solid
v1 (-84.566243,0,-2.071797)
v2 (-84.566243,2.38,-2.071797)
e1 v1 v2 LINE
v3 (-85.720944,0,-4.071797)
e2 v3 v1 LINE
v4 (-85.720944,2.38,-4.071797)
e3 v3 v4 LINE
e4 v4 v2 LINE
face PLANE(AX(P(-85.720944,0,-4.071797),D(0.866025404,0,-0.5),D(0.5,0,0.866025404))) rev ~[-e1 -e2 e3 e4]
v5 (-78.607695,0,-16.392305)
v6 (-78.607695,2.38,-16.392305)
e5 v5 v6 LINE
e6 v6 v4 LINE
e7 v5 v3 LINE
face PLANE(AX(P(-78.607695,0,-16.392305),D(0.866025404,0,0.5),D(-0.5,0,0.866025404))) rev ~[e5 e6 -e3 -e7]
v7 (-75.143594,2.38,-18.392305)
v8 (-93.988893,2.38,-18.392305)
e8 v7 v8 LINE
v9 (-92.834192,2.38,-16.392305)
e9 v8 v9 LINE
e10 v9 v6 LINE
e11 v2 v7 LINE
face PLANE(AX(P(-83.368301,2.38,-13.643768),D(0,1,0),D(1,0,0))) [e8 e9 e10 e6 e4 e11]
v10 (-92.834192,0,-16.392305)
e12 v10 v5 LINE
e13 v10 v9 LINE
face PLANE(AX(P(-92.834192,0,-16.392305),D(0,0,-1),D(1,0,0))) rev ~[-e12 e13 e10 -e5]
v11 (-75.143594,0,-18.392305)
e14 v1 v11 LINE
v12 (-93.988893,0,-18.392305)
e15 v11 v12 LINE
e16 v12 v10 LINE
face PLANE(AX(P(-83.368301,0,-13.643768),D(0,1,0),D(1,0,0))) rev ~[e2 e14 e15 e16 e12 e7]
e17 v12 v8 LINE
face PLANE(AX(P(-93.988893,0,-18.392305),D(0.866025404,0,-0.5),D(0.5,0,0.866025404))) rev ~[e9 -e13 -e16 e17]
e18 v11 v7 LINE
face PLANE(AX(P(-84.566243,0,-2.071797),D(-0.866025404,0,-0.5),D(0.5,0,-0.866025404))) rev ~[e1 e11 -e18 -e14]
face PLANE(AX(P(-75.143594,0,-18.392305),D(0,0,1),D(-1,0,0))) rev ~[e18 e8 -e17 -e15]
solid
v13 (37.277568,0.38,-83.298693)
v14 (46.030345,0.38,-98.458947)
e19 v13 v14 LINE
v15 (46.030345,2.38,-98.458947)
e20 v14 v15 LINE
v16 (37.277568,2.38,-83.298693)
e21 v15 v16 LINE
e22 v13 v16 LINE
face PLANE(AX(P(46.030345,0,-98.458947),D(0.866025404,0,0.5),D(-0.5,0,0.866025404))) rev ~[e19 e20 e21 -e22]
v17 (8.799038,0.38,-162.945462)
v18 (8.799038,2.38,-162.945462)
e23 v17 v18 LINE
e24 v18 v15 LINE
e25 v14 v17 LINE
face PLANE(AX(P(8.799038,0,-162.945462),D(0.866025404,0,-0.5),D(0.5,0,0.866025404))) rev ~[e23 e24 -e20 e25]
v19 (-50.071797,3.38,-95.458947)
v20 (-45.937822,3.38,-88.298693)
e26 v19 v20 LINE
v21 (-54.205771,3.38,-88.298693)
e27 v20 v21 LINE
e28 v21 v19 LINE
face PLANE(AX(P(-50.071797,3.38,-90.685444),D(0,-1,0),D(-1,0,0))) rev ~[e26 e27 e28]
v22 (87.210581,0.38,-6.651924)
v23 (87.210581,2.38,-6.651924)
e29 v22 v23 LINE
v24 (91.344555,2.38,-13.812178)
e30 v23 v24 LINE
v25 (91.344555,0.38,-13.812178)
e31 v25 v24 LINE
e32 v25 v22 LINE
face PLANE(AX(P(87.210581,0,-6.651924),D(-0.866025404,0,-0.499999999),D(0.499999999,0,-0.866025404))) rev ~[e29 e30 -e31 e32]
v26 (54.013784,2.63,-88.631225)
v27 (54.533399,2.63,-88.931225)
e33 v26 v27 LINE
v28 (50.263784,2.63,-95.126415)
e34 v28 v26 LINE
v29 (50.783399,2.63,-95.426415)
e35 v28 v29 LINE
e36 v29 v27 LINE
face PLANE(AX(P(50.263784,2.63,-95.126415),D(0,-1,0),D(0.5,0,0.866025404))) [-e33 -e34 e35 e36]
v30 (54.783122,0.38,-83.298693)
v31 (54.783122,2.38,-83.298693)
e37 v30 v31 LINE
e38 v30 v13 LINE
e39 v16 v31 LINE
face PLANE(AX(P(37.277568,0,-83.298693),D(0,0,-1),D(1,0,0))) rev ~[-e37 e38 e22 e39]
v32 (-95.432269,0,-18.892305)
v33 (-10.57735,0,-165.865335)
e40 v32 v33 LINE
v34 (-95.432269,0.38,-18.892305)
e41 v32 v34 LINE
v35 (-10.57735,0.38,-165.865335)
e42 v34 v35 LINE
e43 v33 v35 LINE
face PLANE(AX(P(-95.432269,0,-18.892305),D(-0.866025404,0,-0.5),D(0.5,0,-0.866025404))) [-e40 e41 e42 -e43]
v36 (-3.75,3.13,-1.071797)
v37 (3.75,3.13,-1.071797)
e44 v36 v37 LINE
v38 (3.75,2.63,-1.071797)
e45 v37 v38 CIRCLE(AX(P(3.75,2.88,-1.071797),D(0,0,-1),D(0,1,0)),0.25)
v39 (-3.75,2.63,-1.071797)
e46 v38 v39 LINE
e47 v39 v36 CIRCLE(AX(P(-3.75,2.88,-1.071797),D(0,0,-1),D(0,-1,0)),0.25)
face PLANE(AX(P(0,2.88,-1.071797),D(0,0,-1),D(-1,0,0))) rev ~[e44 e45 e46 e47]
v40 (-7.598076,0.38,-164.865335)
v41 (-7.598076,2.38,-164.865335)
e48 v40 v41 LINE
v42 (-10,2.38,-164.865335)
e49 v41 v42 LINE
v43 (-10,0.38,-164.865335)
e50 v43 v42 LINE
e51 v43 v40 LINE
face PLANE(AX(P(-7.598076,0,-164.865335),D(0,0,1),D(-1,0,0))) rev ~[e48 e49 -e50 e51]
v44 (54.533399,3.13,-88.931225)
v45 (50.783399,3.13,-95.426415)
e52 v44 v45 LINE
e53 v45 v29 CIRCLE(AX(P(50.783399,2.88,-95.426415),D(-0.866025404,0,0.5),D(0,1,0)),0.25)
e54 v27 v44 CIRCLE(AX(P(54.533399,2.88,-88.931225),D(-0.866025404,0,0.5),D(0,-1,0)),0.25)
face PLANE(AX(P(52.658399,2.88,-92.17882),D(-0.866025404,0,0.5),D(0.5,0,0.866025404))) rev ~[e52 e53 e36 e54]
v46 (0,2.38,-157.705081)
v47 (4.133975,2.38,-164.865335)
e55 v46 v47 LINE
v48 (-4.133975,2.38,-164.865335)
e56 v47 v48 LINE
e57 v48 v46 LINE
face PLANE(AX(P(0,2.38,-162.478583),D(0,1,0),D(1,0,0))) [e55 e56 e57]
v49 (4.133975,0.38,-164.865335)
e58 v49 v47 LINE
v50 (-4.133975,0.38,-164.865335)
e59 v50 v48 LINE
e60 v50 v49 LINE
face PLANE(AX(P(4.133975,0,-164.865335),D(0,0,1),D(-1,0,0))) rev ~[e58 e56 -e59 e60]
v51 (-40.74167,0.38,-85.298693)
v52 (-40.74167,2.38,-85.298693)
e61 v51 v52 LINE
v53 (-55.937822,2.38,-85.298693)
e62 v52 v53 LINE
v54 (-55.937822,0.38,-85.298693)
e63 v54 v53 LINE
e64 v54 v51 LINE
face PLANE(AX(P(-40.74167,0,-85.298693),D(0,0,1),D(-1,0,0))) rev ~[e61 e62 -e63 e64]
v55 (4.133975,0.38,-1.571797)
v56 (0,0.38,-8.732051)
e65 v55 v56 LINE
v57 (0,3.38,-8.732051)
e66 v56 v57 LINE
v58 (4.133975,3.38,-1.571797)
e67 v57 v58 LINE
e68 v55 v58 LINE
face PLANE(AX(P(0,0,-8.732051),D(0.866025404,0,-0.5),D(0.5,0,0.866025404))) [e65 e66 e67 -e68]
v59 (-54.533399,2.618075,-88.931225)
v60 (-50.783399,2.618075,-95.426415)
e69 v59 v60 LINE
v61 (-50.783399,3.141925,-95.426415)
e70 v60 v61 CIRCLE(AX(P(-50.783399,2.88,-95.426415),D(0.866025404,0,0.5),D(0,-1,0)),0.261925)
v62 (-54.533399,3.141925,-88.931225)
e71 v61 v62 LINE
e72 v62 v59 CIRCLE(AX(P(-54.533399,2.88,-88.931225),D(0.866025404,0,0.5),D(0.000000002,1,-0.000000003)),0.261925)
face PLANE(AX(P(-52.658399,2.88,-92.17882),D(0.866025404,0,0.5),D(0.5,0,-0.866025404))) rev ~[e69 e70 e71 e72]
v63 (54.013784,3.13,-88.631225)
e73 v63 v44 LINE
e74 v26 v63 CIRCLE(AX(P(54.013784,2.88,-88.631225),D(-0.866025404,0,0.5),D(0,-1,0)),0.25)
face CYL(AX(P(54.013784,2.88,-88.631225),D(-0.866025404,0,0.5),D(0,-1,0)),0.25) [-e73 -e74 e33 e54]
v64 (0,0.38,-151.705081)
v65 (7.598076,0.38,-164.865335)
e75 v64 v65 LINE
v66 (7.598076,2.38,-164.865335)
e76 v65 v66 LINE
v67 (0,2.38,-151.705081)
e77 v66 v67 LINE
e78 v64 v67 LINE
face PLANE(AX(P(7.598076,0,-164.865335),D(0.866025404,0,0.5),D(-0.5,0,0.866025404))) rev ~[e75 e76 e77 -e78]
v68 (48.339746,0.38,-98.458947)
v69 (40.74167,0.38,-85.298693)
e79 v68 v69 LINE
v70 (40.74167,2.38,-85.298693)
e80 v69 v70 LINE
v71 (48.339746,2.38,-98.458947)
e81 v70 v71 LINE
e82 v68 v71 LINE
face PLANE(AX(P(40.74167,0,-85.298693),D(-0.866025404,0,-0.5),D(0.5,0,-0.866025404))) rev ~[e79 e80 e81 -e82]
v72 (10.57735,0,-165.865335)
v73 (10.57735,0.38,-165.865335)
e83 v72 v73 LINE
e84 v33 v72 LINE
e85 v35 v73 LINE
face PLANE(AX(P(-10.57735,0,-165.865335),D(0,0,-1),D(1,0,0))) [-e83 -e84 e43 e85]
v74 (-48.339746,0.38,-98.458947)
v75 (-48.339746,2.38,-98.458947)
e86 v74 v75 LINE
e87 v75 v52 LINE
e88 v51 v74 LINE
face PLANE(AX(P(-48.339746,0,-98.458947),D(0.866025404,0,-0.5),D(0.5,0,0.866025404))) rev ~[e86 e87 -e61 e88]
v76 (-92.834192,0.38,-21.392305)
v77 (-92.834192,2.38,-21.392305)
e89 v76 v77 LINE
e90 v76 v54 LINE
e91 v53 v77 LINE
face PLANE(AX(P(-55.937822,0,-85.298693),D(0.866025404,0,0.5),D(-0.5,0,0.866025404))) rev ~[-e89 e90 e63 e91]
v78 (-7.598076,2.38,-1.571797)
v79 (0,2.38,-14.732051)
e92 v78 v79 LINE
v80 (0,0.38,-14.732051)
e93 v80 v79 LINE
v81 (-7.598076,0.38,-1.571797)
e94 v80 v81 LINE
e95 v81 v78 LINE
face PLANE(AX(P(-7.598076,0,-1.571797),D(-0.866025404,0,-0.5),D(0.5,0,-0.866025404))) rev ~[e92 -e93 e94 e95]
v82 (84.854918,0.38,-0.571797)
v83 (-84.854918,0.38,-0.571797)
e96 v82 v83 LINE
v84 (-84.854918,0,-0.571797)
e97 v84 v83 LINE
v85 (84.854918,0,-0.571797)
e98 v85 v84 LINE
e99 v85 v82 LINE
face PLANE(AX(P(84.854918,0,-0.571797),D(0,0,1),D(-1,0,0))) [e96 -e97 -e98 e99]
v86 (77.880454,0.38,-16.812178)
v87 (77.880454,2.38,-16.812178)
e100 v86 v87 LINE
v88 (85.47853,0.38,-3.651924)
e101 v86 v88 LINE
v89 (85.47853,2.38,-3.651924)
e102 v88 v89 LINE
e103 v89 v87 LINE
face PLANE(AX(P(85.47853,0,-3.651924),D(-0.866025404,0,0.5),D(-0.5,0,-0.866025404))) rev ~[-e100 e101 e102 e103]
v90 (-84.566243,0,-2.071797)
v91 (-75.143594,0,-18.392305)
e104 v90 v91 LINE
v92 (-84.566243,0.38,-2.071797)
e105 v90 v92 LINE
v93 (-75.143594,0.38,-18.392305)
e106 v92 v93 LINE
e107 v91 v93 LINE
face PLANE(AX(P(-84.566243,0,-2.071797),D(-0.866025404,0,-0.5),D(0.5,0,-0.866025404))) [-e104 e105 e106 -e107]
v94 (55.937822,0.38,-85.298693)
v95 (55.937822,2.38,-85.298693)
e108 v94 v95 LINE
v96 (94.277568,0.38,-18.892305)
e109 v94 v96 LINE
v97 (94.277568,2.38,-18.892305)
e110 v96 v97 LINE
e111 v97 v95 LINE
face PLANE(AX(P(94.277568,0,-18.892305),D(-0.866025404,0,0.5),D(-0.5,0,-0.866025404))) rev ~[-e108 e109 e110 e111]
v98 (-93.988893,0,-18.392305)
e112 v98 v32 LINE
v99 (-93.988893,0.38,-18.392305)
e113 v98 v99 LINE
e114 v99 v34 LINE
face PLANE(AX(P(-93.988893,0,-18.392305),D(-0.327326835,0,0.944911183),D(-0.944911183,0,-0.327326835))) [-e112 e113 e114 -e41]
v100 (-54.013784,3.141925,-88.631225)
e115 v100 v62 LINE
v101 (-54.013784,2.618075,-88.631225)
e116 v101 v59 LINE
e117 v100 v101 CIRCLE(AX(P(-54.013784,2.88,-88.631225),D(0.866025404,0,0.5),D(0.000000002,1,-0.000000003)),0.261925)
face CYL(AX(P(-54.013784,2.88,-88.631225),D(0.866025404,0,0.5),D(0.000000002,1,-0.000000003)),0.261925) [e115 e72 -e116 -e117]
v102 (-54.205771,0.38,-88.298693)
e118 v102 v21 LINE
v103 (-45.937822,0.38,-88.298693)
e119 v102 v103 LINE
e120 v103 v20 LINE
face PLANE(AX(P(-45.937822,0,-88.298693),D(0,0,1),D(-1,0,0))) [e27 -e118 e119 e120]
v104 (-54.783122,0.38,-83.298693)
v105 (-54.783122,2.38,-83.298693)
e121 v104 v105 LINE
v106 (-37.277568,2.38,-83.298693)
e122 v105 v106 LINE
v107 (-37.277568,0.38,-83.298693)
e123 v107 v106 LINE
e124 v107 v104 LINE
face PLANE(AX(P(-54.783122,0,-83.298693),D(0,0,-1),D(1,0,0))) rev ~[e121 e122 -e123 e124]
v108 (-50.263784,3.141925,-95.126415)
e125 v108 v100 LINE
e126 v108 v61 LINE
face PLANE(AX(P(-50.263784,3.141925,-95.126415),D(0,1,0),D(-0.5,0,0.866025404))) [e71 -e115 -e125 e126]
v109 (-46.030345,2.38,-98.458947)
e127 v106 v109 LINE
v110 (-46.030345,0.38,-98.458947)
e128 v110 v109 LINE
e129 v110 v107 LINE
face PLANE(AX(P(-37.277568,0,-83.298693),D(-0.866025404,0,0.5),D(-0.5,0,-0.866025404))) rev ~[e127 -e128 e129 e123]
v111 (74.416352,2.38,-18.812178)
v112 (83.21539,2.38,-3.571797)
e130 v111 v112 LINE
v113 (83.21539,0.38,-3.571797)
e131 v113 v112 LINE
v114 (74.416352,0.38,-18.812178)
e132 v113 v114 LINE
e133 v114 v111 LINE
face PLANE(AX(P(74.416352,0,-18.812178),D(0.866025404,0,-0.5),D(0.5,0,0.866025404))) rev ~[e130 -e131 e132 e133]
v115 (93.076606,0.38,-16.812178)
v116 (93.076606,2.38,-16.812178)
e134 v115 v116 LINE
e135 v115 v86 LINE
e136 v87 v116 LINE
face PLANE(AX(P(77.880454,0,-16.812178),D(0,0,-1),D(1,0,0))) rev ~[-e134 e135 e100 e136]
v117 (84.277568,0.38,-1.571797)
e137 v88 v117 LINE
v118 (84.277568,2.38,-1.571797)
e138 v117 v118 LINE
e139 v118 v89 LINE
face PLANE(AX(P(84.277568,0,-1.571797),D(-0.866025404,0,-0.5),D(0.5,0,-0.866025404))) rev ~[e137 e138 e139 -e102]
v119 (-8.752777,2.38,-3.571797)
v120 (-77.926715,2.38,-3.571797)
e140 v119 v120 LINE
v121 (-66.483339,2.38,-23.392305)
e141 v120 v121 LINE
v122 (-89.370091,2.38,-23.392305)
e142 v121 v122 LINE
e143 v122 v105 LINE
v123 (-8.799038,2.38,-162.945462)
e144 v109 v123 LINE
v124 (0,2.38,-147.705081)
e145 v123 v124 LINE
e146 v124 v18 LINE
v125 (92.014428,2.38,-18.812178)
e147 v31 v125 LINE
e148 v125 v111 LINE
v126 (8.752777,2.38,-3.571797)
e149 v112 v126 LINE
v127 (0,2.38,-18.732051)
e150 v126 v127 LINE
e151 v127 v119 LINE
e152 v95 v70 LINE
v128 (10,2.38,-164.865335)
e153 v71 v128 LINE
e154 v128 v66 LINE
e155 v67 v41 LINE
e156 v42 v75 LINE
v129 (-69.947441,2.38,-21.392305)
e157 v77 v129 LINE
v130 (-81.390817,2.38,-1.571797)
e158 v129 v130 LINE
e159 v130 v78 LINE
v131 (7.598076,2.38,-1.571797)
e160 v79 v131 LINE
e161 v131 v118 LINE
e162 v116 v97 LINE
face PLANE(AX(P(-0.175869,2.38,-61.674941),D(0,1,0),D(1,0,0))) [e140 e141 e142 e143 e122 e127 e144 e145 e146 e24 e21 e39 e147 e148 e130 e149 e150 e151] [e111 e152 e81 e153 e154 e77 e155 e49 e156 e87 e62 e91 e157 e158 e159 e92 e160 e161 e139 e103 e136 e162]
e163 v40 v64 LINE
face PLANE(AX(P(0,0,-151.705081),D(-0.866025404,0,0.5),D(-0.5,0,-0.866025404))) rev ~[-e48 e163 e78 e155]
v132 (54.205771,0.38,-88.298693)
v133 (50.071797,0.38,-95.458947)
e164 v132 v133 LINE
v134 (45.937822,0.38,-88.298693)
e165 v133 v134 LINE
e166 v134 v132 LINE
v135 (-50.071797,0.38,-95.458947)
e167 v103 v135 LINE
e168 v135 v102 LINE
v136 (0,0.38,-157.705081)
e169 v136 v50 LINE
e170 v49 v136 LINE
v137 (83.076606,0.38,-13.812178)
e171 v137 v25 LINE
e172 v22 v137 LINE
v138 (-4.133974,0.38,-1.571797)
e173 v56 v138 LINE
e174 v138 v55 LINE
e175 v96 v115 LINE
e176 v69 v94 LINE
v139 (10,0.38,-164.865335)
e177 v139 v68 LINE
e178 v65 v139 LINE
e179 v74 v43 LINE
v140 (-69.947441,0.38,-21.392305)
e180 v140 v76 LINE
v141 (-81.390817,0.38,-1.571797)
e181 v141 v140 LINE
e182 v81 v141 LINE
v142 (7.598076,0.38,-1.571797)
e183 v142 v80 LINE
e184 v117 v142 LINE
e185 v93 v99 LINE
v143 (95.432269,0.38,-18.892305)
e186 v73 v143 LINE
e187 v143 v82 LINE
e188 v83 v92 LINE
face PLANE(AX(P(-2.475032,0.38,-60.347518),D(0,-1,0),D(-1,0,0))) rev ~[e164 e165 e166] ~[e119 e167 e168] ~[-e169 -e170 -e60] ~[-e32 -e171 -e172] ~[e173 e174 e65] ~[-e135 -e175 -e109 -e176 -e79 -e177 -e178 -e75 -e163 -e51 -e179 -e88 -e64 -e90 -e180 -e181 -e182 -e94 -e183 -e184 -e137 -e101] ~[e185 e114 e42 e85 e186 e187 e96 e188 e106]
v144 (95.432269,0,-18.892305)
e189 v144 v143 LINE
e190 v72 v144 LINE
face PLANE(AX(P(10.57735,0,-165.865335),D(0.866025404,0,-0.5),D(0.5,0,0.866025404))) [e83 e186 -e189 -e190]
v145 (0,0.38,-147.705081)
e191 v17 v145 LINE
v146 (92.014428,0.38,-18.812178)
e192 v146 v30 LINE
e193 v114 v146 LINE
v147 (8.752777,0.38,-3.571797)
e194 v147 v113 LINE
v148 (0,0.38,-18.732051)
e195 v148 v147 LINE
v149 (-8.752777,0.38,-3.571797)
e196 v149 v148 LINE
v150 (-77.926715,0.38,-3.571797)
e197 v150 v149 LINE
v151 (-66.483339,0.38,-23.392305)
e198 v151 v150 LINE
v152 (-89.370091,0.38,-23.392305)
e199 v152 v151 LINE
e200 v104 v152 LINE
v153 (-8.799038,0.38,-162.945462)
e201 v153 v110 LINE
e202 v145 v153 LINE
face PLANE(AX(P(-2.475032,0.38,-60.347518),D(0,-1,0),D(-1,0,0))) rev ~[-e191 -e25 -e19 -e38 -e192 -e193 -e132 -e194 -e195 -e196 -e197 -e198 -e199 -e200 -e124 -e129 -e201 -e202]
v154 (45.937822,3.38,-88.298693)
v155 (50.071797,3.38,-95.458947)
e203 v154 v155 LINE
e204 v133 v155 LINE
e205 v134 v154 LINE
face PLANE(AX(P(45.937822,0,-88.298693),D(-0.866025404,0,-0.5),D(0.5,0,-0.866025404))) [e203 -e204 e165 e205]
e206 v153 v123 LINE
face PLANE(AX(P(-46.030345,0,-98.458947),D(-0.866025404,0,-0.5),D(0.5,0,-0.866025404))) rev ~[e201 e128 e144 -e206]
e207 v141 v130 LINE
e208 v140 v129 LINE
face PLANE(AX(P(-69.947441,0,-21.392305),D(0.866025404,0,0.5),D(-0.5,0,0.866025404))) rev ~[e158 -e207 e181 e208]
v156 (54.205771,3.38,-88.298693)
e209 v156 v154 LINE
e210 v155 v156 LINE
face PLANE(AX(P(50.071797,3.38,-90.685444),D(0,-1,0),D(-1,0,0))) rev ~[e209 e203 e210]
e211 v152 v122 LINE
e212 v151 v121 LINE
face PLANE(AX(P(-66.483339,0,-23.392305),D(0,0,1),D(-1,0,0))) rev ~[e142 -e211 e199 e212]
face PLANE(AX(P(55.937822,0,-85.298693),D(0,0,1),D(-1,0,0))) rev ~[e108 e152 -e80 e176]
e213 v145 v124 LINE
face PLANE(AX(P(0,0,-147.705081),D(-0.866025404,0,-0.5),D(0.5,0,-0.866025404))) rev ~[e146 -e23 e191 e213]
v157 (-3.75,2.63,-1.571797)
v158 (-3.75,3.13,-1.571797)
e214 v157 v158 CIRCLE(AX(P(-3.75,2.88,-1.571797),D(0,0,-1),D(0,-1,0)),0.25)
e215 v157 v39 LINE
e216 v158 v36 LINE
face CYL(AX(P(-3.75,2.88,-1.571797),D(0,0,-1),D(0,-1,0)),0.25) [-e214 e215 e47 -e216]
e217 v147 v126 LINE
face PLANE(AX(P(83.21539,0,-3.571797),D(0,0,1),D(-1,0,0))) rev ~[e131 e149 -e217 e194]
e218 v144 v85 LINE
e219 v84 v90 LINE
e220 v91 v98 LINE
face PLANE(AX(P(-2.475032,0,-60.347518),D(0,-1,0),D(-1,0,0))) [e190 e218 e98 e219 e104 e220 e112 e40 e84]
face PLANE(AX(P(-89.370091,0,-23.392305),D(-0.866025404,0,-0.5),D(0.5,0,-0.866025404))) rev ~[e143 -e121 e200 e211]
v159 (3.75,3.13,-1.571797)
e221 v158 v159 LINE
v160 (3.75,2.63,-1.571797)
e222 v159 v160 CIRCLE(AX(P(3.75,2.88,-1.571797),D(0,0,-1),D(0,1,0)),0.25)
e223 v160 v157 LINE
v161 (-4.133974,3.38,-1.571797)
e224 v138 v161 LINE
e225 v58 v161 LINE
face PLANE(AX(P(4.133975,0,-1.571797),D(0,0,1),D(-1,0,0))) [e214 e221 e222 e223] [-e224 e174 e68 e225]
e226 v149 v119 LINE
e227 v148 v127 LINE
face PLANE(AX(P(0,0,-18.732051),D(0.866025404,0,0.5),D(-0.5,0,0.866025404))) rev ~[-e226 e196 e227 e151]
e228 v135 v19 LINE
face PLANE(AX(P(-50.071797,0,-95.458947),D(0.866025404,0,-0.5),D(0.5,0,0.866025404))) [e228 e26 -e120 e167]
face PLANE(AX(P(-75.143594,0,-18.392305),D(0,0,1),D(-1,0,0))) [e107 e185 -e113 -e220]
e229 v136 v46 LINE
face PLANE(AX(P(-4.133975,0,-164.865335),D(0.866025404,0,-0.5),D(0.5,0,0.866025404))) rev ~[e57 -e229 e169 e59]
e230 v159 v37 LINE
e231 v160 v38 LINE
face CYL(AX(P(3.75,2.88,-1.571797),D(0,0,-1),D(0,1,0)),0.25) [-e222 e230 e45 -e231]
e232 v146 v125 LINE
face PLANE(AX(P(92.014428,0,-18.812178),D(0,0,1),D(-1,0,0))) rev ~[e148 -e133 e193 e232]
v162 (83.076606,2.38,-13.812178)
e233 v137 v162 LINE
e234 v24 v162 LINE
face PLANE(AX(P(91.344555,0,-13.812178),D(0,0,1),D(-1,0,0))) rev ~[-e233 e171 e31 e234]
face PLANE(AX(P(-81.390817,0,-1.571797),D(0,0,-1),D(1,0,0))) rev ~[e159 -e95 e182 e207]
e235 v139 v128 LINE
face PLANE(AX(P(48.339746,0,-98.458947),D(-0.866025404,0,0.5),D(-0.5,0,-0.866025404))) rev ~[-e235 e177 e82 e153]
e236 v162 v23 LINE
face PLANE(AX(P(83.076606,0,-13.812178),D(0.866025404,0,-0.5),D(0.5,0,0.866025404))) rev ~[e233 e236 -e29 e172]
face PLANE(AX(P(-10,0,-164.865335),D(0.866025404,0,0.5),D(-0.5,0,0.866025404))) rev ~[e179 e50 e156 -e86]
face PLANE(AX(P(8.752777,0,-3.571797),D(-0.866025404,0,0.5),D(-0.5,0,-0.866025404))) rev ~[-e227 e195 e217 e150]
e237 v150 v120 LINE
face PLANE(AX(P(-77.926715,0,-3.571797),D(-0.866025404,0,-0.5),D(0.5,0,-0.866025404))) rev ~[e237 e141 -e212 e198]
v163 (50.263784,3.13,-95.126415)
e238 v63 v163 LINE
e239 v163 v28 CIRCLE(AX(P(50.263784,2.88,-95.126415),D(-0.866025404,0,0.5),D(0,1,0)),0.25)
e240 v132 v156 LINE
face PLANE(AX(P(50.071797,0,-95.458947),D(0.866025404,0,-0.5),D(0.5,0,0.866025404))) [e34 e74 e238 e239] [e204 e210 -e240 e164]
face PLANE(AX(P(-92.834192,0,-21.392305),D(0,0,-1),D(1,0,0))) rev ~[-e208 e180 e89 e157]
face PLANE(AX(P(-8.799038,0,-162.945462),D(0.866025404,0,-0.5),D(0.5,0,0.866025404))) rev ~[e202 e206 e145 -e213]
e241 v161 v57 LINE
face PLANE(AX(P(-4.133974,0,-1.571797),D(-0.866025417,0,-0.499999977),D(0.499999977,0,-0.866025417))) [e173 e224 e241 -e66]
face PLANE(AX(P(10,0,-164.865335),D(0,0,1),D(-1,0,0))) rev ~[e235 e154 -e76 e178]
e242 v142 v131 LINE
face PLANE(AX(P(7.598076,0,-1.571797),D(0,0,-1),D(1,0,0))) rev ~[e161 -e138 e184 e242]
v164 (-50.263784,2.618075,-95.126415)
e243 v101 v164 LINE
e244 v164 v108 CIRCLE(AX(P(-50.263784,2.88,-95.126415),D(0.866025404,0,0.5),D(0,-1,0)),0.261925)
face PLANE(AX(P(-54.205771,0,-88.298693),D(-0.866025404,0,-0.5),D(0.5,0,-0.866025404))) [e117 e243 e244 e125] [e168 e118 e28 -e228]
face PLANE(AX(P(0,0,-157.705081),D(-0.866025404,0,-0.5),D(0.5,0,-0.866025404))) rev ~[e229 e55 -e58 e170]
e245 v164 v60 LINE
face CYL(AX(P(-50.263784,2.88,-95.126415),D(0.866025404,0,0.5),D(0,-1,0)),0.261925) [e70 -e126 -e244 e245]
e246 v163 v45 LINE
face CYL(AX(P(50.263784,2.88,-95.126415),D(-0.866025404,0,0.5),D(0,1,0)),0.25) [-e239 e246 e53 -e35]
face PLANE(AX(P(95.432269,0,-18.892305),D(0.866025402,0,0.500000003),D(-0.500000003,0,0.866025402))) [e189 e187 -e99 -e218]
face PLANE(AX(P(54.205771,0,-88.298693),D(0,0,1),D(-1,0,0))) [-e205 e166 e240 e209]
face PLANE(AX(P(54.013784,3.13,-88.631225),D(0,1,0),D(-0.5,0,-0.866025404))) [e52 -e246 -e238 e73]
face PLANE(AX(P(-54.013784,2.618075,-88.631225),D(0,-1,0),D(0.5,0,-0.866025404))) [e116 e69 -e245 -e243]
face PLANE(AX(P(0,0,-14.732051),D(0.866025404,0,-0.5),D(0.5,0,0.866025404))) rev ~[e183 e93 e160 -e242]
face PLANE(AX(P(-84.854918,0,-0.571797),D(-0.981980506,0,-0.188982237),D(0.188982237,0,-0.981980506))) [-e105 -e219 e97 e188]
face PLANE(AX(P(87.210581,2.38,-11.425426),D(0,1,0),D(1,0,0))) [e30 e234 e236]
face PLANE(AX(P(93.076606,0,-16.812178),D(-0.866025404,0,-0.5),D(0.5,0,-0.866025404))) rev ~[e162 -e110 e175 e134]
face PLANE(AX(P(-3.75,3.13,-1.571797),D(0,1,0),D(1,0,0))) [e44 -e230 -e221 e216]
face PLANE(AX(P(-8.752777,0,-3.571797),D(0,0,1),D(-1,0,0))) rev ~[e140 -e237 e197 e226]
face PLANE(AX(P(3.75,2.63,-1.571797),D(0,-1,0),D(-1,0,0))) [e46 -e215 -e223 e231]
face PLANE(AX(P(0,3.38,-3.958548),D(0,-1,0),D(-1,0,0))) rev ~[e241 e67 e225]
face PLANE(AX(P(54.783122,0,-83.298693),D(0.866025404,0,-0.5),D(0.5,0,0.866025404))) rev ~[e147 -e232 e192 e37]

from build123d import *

# Parameters (mm, degrees)
BOSS_EXTRUDE1_DEPTH   = 2.38
BOSS_EXTRUDE1_2_DEPTH = 2.38
BOSS_EXTRUDE1_3_DEPTH = 2.38
BOSS_EXTRUDE1_4_DEPTH = 2.38
BOSS_EXTRUDE4_DEPTH   = 0.38
BOSS_EXTRUDE5_DEPTH   = 3.38
BOSS_EXTRUDE6_DEPTH   = 0.5
BOSS_EXTRUDE7_DEPTH   = 0.6
BOSS_EXTRUDE8_DEPTH   = 0.6


with BuildPart() as part:
    # Sketch1 → Boss-Extrude1 (new body)
    with BuildSketch(Plane(origin=(0, 0, 0), x_dir=(1, 0, 0), z_dir=(0, 1, 0))):
        Polygon((-85.720943795, 4.071796796), (-84.566243256, 2.071796795), (-75.143593538, 18.392304849), (-93.988892974, 18.392304849), (-92.834192436, 16.392304849), (-78.607695153, 16.392304849), align=None)
    extrude(amount=BOSS_EXTRUDE1_DEPTH)


with BuildPart() as body_2:
    # Sketch1 → Boss-Extrude1 2 (new body)
    with BuildSketch(Plane(origin=(0, 0, 0), x_dir=(1, 0, 0), z_dir=(0, 1, 0))):
        Polygon((91.344555444, 13.812177834), (83.076606252, 13.812177834), (87.210580853, 6.651923788), align=None)
    extrude(amount=BOSS_EXTRUDE1_2_DEPTH)


with BuildPart() as body_3:
    # Sketch1 → Boss-Extrude1 3 (new body)
    with BuildSketch(Plane(origin=(0, 0, 0), x_dir=(1, 0, 0), z_dir=(0, 1, 0))):
        Polygon((4.133974596, 164.865334799), (-4.133974596, 164.865334799), (0, 157.705080761), align=None)
    extrude(amount=BOSS_EXTRUDE1_3_DEPTH)


with BuildPart() as body_4:
    # Sketch1 → Boss-Extrude1 4 (new body)
    with BuildSketch(Plane(origin=(0, 0, 0), x_dir=(1, 0, 0), z_dir=(0, 1, 0))):
        Polygon((-92.834192436, 21.392304849), (-69.947441134, 21.392304849), (-81.390816785, 1.571796811), (-7.598076227, 1.571796811), (5.6e-08, 14.732050972), (7.598076338, 1.571796812), (84.27756817, 1.571796812), (85.478530104, 3.651923899), (77.880453952, 16.812177834), (93.076606256, 16.812177834), (94.277568143, 18.892304841), (55.937822181, 85.298692796), (40.741669759, 85.298692796), (48.33974597, 98.458946834), (10.000000007, 164.865334792), (7.598076211, 164.865334792), (0, 151.705080754), (-7.598076212, 164.865334792), (-9.999999977, 164.865334792), (-48.339745938, 98.458946839), (-40.741669726, 85.298692801), (-55.937822149, 85.298692801), align=None)
        Polygon((-8.752776823, 3.571796679), (-77.926715228, 3.571796679), (-66.4833395, 23.392304849), (-89.370090821, 23.392304849), (-54.783121611, 83.298692801), (-37.277568111, 83.298692801), (-46.030344861, 98.458946839), (-8.799038094, 162.945461791), (0, 147.705080754), (8.799038109, 162.945461817), (46.030344894, 98.458946834), (37.277568144, 83.298692796), (54.783121643, 83.298692796), (92.014428415, 18.812177834), (74.416352337, 18.812177834), (83.2153905, 3.571796679), (8.752776819, 3.571796679), (-2e-09, 18.73205084), align=None, mode=Mode.SUBTRACT)
    extrude(amount=BOSS_EXTRUDE1_4_DEPTH)


    add(body_2.part)  # Boss-Extrude4 merges body 2

    add(body_3.part)  # Boss-Extrude4 merges body 3
    # Sketch1<8> → Boss-Extrude4 (add)
    # profile 1 of 2: a face of its own
    with BuildSketch(Plane(origin=(0, 0, 0), x_dir=(1, 0, 0), z_dir=(0, 1, 0))):
        Polygon((-75.143593538, 18.392304849), (-84.566243256, 2.071796795), (-84.854918391, 0.571796796), (84.85491843, 0.571796796), (95.432268703, 18.892304753), (10.577350242, 165.865334799), (-10.577350242, 165.865334799), (-95.432268647, 18.892304849), (-93.988892974, 18.392304849), align=None)
        Polygon((4.133974507, 1.571796687), (-4.133974466, 1.571796687), (-1.08e-07, 8.732050756), align=None, mode=Mode.SUBTRACT)
        Polygon((87.210580853, 6.651923788), (83.076606252, 13.812177834), (91.344555444, 13.812177834), align=None, mode=Mode.SUBTRACT)
        Polygon((-45.937822149, 88.298692801), (-54.205771341, 88.298692801), (-50.071796745, 95.458946839), align=None, mode=Mode.SUBTRACT)
        Polygon((0, 157.705080761), (-4.133974596, 164.865334799), (4.133974596, 164.865334799), align=None, mode=Mode.SUBTRACT)
        Polygon((-81.390816785, 1.571796811), (-69.947441134, 21.392304849), (-92.834192436, 21.392304849), (-55.937822149, 85.298692801), (-40.741669726, 85.298692801), (-48.339745938, 98.458946839), (-9.999999977, 164.865334792), (-7.598076212, 164.865334792), (0, 151.705080754), (7.598076211, 164.865334792), (10.000000007, 164.865334792), (48.33974597, 98.458946834), (40.741669759, 85.298692796), (55.937822181, 85.298692796), (94.277568143, 18.892304841), (93.076606256, 16.812177834), (77.880453952, 16.812177834), (85.478530104, 3.651923899), (84.27756817, 1.571796812), (7.598076338, 1.571796812), (5.6e-08, 14.732050972), (-7.598076227, 1.571796811), align=None, mode=Mode.SUBTRACT)
        Polygon((54.205771446, 88.298692803), (45.937822254, 88.298692803), (50.07179685, 95.458946841), align=None, mode=Mode.SUBTRACT)
    # profile 2 of 2: a face of its own
    with BuildSketch(Plane(origin=(0, 0, 0), x_dir=(1, 0, 0), z_dir=(0, 1, 0))):
        Polygon((-66.4833395, 23.392304849), (-77.926715228, 3.571796679), (-8.752776823, 3.571796679), (-2e-09, 18.73205084), (8.752776819, 3.571796679), (83.2153905, 3.571796679), (74.416352337, 18.812177834), (92.014428415, 18.812177834), (54.783121643, 83.298692796), (37.277568144, 83.298692796), (46.030344894, 98.458946834), (8.799038109, 162.945461817), (0, 147.705080754), (-8.799038094, 162.945461791), (-46.030344861, 98.458946839), (-37.277568111, 83.298692801), (-54.783121611, 83.298692801), (-89.370090821, 23.392304849), align=None)
    extrude(amount=BOSS_EXTRUDE4_DEPTH)

    # Sketch1<9> → Boss-Extrude5 (add)
    with BuildSketch(Plane(origin=(0, 0, 0), x_dir=(1, 0, 0), z_dir=(0, 1, 0))):
        Polygon((-1.08e-07, 8.732050756), (-4.133974466, 1.571796687), (4.133974507, 1.571796687), align=None)
        Polygon((50.07179685, 95.458946841), (45.937822254, 88.298692803), (54.205771446, 88.298692803), align=None)
        Polygon((-50.071796745, 95.458946839), (-54.205771341, 88.298692801), (-45.937822149, 88.298692801), align=None)
    extrude(amount=BOSS_EXTRUDE5_DEPTH)

    # Sketch2 → Boss-Extrude6 (add)
    with BuildSketch(Plane.XY.offset(-1.571796687)):
        with BuildLine():
            Line((3.750000065, 2.63), (-3.749999935, 2.63))
            ThreePointArc((-3.749999935, 2.63), (-3.999999935, 2.88), (-3.749999935, 3.13))
            Line((-3.749999935, 3.13), (3.750000065, 3.13))
            ThreePointArc((3.750000065, 3.13), (4.000000065, 2.88), (3.750000065, 2.63))
        make_face()
    extrude(amount=BOSS_EXTRUDE6_DEPTH)

    # Sketch4 → Boss-Extrude7 (add)
    with BuildSketch(Plane(origin=(-78.888784049, 0, -45.546460707), x_dir=(-0.500000000000003, 0, 0.8660254037844369), z_dir=(-0.8660254037844369, 0, -0.500000000000003))):
        with BuildLine():
            Line((-57.25000001, 3.141925265), (-49.75000001, 3.141925265))
            ThreePointArc((-49.75000001, 3.141925265), (-49.488074744, 2.88), (-49.75000001, 2.618074735))
            Line((-49.75000001, 2.618074735), (-57.25000001, 2.618074735))
            ThreePointArc((-57.25000001, 2.618074735), (-57.511925275, 2.88), (-57.25000001, 3.141925265))
        make_face()
    extrude(amount=BOSS_EXTRUDE7_DEPTH)

    # Sketch5 → Boss-Extrude8 (add)
    with BuildSketch(Plane(origin=(78.888784129, 0, -45.546460753), x_dir=(-0.5000000000000008, 0, -0.8660254037844383), z_dir=(0.8660254037844382, 0, -0.5000000000000007))):
        with BuildLine():
            Line((49.749999961, 3.13), (57.249999961, 3.13))
            ThreePointArc((57.249999961, 3.13), (57.499999961, 2.88), (57.249999961, 2.63))
            Line((57.249999961, 2.63), (49.749999961, 2.63))
            ThreePointArc((49.749999961, 2.63), (49.499999961, 2.88), (49.749999961, 3.13))
        make_face()
    extrude(amount=BOSS_EXTRUDE8_DEPTH)


solid = Compound([part.part, body_4.part])
